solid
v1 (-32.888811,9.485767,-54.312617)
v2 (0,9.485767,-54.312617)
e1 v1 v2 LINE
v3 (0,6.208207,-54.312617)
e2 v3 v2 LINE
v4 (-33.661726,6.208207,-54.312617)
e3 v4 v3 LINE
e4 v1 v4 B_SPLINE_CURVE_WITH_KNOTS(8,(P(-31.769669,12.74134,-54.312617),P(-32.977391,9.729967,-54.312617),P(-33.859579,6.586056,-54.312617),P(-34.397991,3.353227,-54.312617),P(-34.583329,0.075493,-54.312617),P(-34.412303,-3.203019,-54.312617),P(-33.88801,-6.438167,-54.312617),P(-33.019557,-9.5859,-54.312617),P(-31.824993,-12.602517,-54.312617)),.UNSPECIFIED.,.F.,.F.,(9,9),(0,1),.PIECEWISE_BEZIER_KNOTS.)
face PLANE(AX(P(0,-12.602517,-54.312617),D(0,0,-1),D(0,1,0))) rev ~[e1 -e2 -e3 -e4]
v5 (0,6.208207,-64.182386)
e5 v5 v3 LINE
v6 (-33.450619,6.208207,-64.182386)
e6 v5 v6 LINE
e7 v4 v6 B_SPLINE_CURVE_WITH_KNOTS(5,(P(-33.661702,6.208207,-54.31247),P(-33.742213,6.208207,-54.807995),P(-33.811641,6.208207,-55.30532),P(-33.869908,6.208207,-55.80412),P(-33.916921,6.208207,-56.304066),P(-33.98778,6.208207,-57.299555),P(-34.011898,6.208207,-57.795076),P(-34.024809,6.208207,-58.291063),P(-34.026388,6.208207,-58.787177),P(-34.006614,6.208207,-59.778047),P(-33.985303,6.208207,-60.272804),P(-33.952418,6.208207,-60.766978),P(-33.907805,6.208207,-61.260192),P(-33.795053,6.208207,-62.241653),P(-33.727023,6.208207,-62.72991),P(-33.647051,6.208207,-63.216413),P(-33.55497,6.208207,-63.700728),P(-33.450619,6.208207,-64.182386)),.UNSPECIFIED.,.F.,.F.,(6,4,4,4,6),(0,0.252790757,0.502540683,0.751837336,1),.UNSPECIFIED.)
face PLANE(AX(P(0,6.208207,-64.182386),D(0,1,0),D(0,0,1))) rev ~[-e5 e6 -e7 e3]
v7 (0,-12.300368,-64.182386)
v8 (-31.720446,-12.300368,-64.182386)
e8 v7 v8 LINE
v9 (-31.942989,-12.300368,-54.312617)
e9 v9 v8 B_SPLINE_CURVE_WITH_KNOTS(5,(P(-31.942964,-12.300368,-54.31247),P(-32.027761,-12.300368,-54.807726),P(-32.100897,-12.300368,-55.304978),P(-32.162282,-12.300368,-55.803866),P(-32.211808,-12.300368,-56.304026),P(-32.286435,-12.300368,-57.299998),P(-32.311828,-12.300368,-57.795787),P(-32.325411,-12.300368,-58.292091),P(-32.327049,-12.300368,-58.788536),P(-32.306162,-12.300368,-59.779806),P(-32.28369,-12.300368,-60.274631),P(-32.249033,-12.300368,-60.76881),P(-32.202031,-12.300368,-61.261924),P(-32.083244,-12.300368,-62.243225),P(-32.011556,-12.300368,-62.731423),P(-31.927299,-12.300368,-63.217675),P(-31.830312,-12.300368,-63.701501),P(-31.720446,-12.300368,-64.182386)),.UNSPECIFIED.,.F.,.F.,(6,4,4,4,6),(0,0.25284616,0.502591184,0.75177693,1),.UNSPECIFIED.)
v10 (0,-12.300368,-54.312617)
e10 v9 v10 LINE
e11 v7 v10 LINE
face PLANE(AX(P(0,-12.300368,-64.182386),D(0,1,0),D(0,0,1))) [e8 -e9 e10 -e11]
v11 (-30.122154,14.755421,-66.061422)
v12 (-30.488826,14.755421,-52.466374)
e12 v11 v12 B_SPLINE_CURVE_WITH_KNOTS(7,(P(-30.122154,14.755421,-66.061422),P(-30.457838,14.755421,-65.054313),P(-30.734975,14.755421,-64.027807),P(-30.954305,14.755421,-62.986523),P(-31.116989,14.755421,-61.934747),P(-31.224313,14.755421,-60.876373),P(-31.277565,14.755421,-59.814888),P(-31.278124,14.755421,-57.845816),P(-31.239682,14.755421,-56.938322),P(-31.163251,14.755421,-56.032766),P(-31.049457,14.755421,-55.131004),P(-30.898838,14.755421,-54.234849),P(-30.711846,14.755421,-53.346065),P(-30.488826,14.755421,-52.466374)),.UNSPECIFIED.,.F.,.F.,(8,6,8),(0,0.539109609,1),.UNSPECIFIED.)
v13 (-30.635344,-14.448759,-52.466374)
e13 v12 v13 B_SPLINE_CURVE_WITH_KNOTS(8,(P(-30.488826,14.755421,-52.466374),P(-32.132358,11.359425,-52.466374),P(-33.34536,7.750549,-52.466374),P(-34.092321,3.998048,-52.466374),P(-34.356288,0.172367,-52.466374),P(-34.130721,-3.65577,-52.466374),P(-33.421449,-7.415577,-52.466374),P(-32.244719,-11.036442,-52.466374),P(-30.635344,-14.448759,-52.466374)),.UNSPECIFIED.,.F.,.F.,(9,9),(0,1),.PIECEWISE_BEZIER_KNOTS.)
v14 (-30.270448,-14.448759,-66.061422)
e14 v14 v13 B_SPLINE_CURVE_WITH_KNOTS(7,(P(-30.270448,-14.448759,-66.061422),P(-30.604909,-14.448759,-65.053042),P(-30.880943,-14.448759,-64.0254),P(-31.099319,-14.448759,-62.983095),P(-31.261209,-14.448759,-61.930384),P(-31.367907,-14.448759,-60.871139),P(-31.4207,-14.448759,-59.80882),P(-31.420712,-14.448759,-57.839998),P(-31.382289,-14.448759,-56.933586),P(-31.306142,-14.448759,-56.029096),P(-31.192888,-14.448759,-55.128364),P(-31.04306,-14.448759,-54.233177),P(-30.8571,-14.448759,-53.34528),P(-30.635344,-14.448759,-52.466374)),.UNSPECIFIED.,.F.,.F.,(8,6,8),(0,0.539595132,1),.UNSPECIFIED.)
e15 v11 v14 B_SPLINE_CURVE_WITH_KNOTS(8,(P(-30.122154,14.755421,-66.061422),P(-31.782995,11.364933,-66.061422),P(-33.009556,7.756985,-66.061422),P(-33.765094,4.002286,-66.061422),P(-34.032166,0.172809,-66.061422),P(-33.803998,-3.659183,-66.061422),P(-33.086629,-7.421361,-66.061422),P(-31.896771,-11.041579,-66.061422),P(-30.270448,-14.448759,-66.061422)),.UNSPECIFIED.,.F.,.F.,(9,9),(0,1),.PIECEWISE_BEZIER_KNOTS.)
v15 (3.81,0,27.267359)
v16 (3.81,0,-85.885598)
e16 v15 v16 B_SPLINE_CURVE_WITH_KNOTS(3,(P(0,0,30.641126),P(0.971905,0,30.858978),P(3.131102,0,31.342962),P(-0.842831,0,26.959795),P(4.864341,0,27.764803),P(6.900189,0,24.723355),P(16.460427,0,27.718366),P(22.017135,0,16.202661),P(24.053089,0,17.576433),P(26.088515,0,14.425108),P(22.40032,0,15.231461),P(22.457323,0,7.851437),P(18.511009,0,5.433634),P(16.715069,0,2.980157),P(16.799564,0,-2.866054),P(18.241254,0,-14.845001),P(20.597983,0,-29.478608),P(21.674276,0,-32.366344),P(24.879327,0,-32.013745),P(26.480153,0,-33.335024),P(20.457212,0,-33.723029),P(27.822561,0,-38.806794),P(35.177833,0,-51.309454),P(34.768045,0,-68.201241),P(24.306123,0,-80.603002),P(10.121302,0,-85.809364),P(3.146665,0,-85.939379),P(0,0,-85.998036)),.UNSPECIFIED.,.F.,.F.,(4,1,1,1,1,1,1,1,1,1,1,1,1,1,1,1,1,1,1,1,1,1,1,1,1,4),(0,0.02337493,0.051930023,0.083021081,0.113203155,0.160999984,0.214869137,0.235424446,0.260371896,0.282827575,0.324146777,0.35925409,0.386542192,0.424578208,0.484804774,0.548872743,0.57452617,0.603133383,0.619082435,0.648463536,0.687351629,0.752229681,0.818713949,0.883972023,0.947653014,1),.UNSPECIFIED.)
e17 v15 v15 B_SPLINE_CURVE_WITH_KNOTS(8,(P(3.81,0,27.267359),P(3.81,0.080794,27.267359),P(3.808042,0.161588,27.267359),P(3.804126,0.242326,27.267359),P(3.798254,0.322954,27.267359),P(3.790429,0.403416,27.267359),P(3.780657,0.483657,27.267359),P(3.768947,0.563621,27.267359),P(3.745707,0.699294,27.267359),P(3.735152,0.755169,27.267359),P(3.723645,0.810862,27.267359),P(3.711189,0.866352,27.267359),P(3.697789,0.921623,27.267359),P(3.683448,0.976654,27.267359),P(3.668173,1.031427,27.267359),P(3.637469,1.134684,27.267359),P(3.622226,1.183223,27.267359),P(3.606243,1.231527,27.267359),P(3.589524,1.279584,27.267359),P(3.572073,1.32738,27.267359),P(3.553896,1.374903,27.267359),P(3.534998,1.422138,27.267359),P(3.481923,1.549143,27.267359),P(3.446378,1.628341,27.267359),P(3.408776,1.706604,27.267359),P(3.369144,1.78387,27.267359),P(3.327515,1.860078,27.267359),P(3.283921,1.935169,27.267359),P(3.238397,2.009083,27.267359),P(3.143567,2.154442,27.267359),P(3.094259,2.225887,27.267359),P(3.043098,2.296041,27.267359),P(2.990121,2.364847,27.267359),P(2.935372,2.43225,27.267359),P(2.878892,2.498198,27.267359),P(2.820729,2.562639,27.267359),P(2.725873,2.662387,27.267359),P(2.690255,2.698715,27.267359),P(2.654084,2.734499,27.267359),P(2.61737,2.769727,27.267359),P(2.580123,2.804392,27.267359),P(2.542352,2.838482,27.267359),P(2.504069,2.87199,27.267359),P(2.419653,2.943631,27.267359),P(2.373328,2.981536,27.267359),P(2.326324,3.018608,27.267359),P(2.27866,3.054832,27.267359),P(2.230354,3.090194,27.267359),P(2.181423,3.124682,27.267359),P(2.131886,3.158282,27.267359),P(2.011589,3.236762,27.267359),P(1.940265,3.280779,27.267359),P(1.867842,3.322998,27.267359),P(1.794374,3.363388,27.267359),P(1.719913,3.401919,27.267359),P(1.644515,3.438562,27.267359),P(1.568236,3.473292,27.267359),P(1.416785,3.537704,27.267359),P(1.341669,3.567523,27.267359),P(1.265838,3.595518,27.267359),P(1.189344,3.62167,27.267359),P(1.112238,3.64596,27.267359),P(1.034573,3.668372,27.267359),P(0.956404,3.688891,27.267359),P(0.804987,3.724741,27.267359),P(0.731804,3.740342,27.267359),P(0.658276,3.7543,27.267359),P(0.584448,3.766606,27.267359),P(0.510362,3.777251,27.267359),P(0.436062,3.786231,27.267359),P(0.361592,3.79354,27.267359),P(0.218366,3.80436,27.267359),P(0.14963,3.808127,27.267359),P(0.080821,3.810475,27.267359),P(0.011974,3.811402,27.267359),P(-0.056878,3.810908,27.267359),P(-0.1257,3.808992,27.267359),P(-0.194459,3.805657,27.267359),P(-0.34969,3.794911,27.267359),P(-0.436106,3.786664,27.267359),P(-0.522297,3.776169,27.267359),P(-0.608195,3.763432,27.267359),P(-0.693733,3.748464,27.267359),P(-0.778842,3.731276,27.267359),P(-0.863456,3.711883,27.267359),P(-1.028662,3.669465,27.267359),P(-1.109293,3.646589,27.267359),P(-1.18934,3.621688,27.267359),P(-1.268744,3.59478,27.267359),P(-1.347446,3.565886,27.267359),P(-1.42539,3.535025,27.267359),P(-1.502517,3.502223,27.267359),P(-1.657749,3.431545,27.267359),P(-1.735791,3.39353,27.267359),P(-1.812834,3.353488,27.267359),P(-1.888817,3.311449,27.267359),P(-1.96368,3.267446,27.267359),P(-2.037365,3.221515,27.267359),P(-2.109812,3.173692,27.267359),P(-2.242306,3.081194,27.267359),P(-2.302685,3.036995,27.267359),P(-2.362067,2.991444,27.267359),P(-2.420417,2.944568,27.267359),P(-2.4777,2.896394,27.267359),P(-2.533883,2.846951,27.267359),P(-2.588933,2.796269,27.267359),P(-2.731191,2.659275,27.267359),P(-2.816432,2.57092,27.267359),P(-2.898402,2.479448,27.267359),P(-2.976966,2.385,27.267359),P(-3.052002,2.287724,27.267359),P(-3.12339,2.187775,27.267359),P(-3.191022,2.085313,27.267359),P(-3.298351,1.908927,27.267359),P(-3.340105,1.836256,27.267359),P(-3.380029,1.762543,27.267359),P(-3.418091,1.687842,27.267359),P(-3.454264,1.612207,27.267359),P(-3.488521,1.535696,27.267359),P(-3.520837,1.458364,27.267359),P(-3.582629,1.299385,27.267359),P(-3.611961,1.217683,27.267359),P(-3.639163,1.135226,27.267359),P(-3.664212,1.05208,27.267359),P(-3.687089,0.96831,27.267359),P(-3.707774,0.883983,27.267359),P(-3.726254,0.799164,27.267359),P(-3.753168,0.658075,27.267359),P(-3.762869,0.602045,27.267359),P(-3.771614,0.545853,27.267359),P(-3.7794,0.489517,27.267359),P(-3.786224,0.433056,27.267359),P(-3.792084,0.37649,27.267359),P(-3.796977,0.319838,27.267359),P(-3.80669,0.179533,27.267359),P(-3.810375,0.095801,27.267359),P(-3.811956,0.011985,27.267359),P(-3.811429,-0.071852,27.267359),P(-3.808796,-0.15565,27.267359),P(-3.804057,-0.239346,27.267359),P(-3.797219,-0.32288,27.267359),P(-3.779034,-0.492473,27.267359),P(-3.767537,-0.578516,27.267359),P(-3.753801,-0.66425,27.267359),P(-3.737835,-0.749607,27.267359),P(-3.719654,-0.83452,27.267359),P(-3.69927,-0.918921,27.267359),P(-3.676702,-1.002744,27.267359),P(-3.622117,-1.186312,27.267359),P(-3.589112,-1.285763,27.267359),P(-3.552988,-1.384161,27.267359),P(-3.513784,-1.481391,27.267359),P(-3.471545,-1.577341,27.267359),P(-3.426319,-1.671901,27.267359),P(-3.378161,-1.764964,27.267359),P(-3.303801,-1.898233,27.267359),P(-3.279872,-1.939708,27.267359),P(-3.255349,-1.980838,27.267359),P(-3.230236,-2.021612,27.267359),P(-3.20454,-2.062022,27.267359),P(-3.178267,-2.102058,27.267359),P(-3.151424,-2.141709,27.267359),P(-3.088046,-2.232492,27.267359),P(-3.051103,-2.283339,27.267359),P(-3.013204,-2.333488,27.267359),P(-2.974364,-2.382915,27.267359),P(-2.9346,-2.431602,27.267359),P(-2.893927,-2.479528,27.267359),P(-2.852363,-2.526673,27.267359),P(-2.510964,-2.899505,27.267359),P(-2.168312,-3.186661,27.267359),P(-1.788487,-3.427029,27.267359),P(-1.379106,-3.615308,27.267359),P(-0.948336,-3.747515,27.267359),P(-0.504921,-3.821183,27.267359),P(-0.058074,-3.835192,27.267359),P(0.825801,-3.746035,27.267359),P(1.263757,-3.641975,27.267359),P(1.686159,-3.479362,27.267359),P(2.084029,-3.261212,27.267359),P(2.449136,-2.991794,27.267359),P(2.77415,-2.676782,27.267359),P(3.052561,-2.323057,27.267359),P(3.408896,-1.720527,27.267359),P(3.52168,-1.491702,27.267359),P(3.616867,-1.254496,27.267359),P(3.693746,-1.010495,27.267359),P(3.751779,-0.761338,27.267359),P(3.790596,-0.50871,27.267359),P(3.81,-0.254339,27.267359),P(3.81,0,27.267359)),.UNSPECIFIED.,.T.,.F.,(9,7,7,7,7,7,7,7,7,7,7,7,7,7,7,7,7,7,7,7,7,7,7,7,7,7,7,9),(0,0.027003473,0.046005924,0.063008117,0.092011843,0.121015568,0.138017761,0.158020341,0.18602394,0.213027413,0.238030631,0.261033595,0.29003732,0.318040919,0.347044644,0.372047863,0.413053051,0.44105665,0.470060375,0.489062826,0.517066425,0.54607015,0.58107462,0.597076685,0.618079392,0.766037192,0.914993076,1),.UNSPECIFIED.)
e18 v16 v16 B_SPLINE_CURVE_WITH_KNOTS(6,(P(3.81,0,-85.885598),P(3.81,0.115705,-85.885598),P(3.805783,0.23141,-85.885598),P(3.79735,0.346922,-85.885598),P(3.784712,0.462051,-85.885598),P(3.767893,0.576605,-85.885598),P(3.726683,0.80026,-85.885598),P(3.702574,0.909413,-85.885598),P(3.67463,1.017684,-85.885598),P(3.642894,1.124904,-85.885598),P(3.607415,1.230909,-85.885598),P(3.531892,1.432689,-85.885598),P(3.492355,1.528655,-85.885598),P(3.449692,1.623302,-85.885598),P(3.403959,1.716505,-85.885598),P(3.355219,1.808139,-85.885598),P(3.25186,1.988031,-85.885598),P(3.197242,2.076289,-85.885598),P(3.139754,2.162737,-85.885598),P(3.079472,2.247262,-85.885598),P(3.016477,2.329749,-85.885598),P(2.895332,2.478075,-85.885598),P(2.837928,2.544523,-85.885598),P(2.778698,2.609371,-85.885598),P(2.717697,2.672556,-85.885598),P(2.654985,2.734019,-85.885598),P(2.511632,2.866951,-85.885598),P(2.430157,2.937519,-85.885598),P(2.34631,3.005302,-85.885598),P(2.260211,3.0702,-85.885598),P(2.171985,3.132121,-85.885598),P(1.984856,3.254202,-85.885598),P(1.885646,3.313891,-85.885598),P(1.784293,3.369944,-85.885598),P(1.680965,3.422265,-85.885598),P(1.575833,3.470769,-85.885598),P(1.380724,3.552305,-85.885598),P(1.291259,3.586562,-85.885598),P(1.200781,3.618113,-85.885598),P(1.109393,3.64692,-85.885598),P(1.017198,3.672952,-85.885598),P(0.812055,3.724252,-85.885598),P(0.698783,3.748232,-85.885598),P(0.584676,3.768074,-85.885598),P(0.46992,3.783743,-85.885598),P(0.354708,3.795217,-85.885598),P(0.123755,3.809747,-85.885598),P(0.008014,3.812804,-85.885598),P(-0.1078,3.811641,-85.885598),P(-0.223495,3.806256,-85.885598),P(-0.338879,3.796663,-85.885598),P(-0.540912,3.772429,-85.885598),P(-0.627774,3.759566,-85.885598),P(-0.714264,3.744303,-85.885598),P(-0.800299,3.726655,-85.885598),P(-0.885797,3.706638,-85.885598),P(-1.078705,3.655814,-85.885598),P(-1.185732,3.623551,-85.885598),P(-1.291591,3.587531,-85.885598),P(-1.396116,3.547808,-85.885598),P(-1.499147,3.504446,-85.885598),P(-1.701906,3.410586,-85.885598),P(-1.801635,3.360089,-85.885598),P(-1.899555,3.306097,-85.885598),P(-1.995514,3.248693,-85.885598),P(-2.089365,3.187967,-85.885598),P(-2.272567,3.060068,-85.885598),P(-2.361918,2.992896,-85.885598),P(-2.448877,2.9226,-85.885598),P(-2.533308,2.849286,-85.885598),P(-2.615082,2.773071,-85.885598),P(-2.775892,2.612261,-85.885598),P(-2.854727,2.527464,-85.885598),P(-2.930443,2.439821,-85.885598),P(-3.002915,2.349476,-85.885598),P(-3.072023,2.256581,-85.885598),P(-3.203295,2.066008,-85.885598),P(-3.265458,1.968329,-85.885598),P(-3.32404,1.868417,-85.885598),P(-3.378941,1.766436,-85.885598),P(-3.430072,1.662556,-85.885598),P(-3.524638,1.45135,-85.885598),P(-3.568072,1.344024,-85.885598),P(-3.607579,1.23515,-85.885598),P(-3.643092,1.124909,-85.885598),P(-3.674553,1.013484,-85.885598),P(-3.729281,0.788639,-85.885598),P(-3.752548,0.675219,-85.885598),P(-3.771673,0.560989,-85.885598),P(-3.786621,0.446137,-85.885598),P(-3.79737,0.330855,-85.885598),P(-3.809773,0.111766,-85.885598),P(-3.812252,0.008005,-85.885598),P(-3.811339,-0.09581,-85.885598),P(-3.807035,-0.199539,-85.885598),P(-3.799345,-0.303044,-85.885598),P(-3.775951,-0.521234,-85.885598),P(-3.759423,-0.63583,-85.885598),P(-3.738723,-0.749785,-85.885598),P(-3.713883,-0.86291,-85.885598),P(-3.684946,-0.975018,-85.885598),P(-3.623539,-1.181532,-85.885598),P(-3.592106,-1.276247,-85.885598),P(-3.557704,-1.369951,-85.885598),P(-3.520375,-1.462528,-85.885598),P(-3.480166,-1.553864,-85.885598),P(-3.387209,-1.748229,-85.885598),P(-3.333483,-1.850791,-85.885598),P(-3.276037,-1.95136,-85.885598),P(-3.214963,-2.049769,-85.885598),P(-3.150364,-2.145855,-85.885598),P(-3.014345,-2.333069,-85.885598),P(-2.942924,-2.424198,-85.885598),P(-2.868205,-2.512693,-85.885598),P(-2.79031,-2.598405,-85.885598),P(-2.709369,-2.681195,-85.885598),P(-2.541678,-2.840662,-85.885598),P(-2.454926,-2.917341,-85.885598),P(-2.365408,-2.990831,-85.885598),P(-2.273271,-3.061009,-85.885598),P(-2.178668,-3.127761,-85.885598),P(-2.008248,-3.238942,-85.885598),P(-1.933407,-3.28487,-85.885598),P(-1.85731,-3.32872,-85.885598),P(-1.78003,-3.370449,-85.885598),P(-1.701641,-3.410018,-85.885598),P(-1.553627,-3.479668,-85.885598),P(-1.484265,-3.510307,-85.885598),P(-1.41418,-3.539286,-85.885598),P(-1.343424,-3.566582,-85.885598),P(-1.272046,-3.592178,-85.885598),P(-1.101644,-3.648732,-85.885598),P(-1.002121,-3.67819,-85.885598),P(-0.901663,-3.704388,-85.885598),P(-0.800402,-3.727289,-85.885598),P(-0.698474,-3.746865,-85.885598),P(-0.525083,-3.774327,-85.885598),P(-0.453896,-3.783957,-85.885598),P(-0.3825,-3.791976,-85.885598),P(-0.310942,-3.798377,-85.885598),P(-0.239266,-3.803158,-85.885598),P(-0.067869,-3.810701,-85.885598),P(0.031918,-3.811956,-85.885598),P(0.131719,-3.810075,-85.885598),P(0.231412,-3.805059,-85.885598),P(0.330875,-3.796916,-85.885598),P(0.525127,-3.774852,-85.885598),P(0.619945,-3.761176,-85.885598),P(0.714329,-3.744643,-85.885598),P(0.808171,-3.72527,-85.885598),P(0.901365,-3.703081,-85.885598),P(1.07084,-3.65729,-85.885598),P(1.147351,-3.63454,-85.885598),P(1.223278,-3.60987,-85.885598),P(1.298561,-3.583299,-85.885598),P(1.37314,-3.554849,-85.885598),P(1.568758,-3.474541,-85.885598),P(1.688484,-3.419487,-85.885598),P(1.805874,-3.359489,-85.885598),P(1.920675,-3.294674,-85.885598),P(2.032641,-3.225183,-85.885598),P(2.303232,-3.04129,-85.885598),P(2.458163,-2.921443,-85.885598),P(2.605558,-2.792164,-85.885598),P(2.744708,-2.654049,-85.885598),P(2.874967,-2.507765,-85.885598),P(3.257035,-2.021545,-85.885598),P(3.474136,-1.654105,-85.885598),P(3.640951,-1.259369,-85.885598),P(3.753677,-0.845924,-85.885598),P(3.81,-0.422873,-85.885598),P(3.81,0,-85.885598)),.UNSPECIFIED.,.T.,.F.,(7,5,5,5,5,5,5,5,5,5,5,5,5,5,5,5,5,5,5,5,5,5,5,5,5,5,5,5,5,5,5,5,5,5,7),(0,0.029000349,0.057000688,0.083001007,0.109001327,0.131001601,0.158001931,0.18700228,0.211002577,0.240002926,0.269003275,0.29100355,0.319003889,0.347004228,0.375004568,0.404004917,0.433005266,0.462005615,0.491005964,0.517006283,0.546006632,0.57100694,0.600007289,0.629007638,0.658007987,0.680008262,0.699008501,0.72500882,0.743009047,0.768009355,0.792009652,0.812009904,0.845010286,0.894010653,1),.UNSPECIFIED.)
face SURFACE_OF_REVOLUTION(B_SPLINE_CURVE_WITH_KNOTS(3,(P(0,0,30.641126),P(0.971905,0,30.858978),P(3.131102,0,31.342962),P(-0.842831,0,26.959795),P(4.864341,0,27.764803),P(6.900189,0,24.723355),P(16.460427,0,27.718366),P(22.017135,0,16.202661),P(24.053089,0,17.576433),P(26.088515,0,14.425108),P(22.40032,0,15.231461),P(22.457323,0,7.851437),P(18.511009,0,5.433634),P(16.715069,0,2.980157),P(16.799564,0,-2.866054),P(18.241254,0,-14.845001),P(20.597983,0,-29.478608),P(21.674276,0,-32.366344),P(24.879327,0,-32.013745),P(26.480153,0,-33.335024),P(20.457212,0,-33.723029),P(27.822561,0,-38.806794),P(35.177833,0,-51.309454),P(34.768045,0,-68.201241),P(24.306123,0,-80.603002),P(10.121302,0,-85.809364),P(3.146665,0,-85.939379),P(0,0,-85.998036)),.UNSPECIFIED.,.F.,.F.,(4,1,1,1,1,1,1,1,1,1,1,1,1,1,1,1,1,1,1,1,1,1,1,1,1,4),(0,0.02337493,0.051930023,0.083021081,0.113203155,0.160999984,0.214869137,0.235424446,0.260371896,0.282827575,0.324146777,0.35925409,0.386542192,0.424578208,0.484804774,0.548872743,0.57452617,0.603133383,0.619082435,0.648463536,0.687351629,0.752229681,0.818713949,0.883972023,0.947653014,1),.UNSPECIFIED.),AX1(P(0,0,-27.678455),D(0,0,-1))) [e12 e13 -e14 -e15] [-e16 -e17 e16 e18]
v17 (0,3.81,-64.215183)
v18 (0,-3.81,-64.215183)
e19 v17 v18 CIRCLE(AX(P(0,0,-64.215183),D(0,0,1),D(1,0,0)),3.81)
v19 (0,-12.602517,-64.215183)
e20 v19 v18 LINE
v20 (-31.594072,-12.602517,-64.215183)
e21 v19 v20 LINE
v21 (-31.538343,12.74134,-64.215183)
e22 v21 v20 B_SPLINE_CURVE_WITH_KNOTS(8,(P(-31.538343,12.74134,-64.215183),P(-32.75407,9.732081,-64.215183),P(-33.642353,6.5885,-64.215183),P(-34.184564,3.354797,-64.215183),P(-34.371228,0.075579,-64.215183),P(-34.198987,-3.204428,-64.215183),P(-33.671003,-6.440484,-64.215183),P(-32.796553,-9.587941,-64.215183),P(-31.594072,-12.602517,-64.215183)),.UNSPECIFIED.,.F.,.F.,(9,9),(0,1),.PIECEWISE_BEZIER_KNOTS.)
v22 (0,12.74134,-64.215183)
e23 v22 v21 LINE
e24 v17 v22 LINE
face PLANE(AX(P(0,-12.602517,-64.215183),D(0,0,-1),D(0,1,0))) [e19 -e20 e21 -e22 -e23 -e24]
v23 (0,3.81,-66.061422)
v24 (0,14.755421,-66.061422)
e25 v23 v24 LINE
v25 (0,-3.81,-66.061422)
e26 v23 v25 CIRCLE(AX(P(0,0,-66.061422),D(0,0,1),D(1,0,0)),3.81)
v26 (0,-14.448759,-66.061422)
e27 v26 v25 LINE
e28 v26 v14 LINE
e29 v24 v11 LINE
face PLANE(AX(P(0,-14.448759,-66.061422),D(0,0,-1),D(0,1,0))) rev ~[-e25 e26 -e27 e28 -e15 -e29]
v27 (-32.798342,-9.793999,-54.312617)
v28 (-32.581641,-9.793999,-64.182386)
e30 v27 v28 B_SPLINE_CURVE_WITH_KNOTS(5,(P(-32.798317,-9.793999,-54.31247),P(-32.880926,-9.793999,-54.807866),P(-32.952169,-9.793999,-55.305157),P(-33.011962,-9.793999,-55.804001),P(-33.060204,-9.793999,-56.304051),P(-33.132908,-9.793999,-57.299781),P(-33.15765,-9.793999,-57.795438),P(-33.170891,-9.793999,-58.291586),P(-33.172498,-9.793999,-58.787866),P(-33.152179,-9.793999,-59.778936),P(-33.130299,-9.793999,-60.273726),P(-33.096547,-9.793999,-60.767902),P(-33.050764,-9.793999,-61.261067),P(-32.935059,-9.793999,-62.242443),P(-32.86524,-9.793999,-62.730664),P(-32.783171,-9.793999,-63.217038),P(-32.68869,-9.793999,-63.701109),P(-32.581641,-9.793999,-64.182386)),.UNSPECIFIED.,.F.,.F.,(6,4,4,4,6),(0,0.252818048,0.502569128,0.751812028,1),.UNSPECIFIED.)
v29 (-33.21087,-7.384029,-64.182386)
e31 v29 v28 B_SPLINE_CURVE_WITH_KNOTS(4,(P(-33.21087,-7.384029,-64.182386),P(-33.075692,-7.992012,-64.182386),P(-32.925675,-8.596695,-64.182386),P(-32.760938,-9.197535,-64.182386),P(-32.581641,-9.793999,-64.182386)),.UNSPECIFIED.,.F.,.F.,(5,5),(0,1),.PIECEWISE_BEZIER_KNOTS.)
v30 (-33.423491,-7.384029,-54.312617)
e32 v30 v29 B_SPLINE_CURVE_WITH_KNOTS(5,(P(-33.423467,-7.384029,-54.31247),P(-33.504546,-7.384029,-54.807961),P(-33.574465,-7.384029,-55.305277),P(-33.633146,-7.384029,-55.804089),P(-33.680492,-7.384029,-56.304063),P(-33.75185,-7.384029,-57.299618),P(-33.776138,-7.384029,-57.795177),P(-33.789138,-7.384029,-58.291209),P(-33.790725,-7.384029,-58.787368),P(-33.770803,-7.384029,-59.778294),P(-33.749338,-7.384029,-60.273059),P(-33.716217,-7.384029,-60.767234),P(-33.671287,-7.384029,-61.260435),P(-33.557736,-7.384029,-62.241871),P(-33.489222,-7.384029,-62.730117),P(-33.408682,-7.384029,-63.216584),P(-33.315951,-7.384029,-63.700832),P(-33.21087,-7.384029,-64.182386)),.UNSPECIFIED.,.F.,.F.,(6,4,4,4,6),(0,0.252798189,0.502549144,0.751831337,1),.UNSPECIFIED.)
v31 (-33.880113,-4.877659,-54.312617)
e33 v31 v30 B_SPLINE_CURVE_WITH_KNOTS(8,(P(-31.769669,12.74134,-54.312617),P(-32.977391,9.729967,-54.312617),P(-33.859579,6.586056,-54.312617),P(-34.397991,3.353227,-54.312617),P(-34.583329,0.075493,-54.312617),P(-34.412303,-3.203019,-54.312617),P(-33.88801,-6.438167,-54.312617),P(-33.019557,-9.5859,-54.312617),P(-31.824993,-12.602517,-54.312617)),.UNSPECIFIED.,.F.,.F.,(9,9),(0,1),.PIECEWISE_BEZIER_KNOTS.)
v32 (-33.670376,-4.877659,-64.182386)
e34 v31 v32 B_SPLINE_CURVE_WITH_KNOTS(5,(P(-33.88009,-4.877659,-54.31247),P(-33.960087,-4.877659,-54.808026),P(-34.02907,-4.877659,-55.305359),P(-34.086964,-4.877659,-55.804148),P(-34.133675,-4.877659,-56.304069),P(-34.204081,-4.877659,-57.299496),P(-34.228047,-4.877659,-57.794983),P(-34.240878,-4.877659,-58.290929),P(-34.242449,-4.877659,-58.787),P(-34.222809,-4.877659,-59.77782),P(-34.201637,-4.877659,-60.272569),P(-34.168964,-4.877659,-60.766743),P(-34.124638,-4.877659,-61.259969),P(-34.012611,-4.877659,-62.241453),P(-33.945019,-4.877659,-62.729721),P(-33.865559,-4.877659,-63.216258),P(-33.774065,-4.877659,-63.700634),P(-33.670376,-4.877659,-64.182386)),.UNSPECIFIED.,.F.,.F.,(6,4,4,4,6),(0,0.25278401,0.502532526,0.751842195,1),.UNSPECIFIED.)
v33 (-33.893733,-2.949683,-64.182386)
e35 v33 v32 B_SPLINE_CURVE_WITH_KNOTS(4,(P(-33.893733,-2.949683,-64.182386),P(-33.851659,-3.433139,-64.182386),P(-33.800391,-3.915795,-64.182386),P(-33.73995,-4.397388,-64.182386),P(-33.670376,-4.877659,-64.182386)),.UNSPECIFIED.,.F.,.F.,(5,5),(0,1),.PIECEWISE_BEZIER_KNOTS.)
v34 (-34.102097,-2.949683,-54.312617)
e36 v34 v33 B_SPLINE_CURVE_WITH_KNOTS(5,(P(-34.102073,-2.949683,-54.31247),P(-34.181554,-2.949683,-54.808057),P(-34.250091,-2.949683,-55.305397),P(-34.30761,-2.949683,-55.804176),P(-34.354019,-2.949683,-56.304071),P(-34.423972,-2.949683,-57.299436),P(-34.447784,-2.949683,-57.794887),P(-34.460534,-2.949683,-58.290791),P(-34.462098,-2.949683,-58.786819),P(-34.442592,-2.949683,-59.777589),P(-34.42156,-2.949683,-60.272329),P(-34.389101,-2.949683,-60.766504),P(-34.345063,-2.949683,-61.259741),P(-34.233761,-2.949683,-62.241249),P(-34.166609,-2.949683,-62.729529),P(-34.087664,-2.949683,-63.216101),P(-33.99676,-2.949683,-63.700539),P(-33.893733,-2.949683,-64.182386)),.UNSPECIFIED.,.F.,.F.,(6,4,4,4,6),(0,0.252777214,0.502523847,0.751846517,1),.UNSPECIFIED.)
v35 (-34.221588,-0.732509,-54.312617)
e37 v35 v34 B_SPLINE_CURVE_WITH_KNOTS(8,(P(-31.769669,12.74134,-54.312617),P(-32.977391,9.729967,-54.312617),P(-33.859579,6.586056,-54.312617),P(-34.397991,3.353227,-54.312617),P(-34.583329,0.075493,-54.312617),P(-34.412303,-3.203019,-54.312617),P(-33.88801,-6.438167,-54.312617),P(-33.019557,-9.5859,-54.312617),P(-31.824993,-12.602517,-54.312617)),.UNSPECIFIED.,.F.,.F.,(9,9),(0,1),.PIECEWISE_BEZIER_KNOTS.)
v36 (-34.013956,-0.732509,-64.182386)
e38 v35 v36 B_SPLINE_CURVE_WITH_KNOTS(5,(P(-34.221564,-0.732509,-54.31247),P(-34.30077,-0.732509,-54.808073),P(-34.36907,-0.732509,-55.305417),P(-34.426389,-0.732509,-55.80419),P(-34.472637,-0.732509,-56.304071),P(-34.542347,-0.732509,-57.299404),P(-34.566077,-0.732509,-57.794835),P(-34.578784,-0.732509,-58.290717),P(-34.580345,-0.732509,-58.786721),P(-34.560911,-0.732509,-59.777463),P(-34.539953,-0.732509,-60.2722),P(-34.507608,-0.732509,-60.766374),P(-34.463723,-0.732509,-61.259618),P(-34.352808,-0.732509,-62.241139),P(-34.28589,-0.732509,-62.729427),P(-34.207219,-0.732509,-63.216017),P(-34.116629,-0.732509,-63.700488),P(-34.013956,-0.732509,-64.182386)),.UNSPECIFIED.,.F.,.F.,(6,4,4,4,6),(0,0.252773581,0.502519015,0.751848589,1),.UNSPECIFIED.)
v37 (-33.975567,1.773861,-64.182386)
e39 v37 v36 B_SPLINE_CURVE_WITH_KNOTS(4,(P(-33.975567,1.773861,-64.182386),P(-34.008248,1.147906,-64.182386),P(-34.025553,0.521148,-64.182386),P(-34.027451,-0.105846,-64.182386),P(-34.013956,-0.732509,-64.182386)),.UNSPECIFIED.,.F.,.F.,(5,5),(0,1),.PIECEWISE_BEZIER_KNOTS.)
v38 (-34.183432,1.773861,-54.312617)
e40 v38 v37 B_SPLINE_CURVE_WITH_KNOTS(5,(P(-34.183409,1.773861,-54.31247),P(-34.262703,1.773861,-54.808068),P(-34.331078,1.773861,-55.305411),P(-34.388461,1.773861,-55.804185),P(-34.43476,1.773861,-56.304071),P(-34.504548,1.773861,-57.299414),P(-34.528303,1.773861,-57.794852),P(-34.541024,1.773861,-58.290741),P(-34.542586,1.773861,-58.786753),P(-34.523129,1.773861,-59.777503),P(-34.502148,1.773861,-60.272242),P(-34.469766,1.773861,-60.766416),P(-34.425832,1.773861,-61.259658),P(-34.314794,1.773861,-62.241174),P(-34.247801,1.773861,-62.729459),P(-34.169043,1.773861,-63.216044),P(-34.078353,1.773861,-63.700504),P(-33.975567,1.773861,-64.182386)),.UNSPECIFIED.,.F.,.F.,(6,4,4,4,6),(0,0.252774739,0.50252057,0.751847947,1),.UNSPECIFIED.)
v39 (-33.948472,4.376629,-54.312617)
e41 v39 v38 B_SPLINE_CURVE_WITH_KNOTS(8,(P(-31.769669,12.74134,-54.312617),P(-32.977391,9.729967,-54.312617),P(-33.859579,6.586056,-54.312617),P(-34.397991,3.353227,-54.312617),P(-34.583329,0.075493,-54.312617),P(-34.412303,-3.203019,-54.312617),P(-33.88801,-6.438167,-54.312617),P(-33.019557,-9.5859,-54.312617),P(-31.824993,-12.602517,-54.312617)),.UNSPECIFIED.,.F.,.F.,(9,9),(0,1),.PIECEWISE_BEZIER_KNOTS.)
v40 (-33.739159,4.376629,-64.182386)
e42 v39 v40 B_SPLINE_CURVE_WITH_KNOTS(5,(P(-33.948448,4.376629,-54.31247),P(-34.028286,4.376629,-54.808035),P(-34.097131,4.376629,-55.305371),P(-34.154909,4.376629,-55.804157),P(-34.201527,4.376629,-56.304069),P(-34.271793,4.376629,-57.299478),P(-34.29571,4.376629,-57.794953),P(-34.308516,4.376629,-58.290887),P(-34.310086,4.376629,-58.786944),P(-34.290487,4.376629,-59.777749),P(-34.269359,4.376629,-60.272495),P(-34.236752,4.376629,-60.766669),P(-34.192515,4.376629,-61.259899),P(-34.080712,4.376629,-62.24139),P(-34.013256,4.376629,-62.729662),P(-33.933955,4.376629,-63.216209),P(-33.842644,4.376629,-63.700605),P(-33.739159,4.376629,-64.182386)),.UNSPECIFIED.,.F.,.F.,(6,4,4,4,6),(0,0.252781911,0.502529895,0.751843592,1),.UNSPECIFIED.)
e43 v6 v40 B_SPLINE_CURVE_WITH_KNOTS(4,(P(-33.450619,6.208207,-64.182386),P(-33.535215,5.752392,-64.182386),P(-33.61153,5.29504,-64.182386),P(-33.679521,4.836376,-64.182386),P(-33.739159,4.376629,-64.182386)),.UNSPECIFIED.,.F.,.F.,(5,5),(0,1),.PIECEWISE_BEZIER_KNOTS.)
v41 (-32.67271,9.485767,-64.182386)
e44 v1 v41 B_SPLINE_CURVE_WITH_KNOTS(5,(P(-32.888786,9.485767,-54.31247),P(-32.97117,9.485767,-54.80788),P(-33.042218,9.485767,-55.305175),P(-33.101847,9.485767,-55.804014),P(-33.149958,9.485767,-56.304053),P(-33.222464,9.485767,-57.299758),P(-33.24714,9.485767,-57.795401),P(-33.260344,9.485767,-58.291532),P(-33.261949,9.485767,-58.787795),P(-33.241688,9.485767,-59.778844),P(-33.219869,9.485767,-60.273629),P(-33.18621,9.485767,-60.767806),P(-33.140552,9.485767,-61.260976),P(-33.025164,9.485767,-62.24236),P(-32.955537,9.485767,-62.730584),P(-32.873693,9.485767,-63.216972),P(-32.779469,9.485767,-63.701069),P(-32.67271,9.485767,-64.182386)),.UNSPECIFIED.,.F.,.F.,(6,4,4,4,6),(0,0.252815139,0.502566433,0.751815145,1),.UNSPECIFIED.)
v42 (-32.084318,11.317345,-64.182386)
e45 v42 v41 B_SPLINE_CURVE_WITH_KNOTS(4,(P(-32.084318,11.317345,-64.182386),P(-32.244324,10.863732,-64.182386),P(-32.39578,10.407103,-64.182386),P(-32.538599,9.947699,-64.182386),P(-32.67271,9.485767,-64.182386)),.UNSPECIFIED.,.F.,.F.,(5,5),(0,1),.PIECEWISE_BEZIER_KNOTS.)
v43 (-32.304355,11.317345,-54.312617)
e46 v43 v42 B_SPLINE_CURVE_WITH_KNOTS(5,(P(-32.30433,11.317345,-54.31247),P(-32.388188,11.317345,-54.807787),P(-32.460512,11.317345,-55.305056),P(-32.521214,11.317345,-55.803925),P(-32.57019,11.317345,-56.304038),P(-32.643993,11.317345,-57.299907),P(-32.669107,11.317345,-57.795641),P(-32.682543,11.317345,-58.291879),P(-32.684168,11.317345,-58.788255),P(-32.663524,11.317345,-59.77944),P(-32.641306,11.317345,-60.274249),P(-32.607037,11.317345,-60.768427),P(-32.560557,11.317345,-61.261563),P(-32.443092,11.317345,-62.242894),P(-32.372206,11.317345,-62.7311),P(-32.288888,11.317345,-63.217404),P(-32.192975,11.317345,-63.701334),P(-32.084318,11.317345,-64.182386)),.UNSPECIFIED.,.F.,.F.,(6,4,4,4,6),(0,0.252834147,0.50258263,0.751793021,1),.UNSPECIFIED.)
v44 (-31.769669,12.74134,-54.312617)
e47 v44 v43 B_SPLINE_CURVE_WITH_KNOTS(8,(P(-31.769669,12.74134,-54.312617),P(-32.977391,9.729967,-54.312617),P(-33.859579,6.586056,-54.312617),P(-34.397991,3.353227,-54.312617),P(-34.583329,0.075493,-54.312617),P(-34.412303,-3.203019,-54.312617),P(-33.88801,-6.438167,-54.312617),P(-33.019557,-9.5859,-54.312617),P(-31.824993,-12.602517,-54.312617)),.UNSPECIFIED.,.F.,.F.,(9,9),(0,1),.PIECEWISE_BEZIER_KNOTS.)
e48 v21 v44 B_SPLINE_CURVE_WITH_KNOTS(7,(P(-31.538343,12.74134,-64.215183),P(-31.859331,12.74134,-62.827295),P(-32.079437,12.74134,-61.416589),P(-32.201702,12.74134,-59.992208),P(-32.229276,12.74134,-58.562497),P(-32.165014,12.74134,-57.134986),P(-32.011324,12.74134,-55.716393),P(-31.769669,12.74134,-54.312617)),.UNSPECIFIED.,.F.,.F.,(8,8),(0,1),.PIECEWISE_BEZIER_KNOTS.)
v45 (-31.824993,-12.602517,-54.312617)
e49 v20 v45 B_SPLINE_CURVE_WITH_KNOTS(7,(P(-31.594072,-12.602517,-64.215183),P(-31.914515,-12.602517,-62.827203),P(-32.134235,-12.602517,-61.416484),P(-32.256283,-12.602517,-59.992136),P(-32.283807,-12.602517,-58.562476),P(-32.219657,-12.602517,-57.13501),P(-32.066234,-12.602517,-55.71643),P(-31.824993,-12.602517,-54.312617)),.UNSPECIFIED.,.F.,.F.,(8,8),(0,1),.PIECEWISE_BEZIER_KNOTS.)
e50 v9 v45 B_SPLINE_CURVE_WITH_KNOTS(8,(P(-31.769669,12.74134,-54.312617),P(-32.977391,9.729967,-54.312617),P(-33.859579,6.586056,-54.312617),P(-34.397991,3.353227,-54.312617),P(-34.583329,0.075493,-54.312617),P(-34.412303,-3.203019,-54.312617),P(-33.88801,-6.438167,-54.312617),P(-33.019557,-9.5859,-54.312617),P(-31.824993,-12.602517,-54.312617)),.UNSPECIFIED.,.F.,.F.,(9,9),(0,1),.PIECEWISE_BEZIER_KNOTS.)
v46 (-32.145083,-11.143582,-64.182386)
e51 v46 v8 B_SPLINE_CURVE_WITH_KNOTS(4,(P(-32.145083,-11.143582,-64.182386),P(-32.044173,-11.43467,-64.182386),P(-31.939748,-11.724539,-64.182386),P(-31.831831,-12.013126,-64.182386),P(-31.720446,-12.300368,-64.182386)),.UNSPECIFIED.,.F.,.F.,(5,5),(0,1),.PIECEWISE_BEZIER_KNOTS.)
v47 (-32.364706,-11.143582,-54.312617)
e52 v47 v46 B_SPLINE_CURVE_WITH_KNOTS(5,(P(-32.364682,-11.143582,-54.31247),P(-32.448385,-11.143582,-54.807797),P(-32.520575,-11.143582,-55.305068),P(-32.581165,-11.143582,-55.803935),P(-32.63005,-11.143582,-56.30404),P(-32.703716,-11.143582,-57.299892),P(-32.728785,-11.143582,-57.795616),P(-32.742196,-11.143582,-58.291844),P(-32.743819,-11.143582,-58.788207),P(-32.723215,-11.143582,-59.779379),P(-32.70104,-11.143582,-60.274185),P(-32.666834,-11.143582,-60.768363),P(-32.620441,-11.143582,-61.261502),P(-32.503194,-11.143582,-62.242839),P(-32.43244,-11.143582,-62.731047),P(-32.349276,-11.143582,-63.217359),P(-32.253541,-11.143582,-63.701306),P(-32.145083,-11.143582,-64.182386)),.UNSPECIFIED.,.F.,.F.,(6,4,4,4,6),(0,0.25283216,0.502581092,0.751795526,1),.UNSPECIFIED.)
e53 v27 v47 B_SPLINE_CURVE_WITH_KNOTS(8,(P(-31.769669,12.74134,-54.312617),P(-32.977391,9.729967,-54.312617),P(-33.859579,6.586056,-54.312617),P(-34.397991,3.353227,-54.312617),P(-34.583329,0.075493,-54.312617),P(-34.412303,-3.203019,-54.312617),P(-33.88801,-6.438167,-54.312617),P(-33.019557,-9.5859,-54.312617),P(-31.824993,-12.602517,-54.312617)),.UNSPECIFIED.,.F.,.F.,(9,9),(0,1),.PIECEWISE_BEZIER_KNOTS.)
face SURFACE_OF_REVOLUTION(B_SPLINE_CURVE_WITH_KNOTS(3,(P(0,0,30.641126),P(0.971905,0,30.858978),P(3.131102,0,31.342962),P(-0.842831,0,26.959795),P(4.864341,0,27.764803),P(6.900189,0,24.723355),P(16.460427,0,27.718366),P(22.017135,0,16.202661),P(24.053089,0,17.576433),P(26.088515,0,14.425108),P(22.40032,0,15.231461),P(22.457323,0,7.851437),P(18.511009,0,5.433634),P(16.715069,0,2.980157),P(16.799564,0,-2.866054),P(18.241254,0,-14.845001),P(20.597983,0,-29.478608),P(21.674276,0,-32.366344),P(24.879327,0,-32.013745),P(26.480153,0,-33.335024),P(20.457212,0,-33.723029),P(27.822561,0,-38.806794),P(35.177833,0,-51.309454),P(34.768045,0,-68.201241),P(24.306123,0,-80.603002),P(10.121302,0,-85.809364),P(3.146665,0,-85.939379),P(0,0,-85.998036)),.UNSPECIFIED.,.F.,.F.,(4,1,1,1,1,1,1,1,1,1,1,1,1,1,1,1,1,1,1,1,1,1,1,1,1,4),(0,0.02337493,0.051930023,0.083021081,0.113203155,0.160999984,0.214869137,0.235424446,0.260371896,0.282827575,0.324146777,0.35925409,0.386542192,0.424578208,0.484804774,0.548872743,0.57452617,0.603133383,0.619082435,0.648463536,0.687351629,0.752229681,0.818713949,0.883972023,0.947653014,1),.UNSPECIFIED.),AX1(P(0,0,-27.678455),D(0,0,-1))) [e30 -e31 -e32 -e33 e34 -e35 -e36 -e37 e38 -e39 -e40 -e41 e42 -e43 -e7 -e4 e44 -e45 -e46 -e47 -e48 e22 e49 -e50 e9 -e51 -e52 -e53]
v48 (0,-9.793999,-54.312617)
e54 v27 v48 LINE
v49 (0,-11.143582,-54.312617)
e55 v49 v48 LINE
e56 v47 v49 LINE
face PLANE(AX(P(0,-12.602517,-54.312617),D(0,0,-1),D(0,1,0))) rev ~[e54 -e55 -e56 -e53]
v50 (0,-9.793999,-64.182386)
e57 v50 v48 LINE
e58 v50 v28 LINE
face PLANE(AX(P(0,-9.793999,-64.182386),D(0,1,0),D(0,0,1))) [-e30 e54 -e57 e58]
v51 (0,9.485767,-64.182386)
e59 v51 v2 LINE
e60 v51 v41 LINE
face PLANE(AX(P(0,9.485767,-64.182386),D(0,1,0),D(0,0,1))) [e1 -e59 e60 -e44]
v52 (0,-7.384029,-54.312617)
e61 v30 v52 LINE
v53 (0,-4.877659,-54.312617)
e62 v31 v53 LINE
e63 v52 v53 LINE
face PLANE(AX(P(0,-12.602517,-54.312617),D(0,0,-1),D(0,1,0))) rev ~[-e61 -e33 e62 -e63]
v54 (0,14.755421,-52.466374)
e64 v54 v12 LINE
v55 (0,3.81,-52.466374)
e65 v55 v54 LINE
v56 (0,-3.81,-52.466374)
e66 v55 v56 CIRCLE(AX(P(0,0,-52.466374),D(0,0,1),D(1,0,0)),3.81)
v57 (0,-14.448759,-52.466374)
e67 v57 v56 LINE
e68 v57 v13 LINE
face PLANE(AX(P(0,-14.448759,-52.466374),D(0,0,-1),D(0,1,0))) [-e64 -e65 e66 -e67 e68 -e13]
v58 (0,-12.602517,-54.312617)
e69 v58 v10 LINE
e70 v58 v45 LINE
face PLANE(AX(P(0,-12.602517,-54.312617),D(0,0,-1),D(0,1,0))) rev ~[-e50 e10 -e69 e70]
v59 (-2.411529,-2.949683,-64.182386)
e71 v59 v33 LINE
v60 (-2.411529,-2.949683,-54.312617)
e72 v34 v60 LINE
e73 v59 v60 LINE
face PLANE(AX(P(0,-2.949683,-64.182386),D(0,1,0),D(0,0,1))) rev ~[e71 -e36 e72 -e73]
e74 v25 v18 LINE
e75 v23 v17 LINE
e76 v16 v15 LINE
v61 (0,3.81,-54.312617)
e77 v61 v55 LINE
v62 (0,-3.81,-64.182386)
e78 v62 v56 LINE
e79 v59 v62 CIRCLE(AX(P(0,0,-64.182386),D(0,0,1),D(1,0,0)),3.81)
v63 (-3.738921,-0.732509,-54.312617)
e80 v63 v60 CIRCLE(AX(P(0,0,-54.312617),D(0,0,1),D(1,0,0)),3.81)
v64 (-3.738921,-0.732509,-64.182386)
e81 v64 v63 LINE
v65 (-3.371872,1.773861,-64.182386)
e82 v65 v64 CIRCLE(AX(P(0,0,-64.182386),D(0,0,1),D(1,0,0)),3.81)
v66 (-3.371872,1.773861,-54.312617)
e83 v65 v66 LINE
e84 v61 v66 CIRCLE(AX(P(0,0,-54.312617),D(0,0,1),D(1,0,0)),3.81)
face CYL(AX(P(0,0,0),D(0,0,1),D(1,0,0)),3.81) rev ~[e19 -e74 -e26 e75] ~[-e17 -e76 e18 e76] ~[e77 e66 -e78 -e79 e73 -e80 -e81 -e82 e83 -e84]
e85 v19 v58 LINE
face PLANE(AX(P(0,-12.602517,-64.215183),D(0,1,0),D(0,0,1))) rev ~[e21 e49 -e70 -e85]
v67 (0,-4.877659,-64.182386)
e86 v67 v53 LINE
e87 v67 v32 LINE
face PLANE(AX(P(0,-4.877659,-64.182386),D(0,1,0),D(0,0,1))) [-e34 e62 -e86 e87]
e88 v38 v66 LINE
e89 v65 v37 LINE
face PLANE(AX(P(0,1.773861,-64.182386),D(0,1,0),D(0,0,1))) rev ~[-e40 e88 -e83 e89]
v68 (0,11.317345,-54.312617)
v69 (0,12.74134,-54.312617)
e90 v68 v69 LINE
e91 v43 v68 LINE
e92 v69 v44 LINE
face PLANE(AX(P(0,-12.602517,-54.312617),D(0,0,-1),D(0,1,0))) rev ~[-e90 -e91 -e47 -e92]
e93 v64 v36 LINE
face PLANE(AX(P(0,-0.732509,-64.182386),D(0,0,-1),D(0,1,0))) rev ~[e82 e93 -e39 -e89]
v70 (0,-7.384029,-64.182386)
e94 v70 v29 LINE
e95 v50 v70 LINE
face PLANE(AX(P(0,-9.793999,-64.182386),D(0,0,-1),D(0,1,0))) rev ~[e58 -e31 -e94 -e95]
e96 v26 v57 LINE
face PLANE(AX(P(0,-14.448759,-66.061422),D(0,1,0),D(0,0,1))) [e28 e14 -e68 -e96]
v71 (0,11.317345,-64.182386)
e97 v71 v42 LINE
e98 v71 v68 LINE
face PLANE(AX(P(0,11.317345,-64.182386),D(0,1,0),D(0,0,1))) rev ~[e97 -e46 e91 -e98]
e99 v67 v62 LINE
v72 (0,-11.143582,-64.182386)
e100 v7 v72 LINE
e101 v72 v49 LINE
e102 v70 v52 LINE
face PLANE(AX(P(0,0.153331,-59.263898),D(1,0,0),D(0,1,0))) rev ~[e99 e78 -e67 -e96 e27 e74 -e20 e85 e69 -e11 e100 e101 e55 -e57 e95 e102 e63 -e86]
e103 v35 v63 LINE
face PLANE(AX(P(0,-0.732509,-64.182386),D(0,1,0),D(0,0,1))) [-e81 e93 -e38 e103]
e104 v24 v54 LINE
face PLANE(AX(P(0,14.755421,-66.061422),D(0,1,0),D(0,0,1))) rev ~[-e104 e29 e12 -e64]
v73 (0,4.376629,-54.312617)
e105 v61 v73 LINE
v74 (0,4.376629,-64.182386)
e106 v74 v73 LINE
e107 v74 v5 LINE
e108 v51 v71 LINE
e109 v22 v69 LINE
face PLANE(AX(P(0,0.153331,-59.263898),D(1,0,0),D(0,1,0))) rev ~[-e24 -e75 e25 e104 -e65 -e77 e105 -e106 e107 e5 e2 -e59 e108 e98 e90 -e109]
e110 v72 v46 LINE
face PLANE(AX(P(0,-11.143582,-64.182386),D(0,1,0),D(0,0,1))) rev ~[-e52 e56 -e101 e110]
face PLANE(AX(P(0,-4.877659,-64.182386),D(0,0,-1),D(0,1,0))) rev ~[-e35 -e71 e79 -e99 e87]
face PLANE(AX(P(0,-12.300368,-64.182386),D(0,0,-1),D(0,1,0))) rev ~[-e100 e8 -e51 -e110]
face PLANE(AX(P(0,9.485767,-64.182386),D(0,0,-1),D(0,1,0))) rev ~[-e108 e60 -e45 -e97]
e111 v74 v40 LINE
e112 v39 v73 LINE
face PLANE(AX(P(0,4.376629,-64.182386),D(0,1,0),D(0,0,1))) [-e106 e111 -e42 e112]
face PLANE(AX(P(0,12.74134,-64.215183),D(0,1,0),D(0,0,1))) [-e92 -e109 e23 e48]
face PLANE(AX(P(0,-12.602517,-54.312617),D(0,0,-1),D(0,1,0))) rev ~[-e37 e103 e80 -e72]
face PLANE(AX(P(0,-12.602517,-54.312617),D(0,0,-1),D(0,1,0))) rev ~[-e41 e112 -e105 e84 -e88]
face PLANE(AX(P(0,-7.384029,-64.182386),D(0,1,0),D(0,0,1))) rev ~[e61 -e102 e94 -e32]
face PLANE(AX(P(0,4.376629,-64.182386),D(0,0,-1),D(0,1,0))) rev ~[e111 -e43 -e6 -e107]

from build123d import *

# Parameters (mm, degrees)
F2_R     = 3.81
F3_DEPTH = 127
F4_W     = 29.2041804641
F4_H     = 13.5950483382
F4_W_2   = 25.3438577056
F4_H_2   = 9.9025666714
F5_DEPTH = 38.1
F6_W     = 1.8315780908
F6_H     = 9.9290758371
F6_W_2   = 1.8315776251
F6_W_3   = 2.5063696085
F6_W_4   = 1.9279760309
F6_W_5   = 2.4099699222
F6_W_6   = 1.1567864567
F7_DEPTH = 38.1


with BuildPart() as f1:
    # F0 (on Front) → F1 (revolve)
    with BuildSketch(Plane.XZ):
        with BuildLine():
            add(Edge.make_bspline(
                [(0, 30.6411255151), (0.9719052697, 30.8589780482), (3.1311016376, 31.3429618403), (-0.8428308747, 26.9597948778), (4.86434105, 27.7648030948), (6.9001885669, 24.7233546217), (16.460426925, 27.7183663846), (22.0171347211, 16.2026606782), (24.0530887741, 17.5764326079), (26.0885151032, 14.425107786), (22.4003197662, 15.2314608232), (22.4573234006, 7.8514374537), (18.5110088945, 5.4336335761), (16.7150685492, 2.9801571496), (16.7995644832, -2.8660543784), (18.2412542429, -14.8450009955), (20.5979834828, -29.4786081551), (21.6742757622, -32.3663439086), (24.8793274387, -32.0137445971), (26.4801532521, -33.3350242059), (20.4572124744, -33.7230289316), (27.8225608183, -38.8067935266), (35.1778327891, -51.3094541134), (34.7680447891, -68.2012406621), (24.306122673, -80.6030021349), (10.1213018413, -85.8093636164), (3.1466652634, -85.9393786185), (0, -85.9980359674)],
                knots=[0, 0, 0, 0, 0.0233749297, 0.0519300234, 0.0830210808, 0.1132031546, 0.1609999845, 0.2148691373, 0.2354244457, 0.2603718956, 0.2828275751, 0.3241467768, 0.3592540901, 0.3865421917, 0.424578208, 0.4848047735, 0.5488727426, 0.5745261705, 0.6031333827, 0.6190824346, 0.6484635363, 0.687351629, 0.752229681, 0.8187139495, 0.8839720231, 0.9476530138, 1, 1, 1, 1], degree=3))
            Line((0, 30.6411255151), (0, -85.9980359674))
        make_face()
    revolve(axis=Axis((0, 0, -27.6784552261), (0, 0, -1)))

    # F2 (on Top) → F3 (cut, symmetric)
    with BuildSketch(Plane.XY):
        Circle(F2_R)
    extrude(amount=F3_DEPTH, both=True, mode=Mode.SUBTRACT)

    # F4 (on Right) → F5 (cut)
    with BuildSketch(Plane.YZ):
        with Locations((0.153331086, -59.2638980597)):
            Rectangle(F4_W, F4_H)
        with Locations((0.0694114715, -59.2638999224)):
            Rectangle(F4_W_2, F4_H_2, mode=Mode.SUBTRACT)
    extrude(amount=-F5_DEPTH, mode=Mode.SUBTRACT)

    # F6 (on Right) → F7 (cut)
    with BuildSketch(Plane.YZ):
        with Locations((10.4015562683, -59.2178478837)):
            Rectangle(F6_W, F6_H)
        with Locations((5.29241818, -59.2178478837)):
            Rectangle(F6_W_2, F6_H)
        with Locations((0.520675967, -59.2178478837)):
            Rectangle(F6_W_3, F6_H)
        with Locations((-3.9136705454, -59.2178478837)):
            Rectangle(F6_W_4, F6_H)
        with Locations((-8.5890137125, -59.2178478837)):
            Rectangle(F6_W_5, F6_H)
        with Locations((-11.7219751701, -59.2178478837)):
            Rectangle(F6_W_6, F6_H)
    extrude(amount=-F7_DEPTH, mode=Mode.SUBTRACT)


solid = f1.part
